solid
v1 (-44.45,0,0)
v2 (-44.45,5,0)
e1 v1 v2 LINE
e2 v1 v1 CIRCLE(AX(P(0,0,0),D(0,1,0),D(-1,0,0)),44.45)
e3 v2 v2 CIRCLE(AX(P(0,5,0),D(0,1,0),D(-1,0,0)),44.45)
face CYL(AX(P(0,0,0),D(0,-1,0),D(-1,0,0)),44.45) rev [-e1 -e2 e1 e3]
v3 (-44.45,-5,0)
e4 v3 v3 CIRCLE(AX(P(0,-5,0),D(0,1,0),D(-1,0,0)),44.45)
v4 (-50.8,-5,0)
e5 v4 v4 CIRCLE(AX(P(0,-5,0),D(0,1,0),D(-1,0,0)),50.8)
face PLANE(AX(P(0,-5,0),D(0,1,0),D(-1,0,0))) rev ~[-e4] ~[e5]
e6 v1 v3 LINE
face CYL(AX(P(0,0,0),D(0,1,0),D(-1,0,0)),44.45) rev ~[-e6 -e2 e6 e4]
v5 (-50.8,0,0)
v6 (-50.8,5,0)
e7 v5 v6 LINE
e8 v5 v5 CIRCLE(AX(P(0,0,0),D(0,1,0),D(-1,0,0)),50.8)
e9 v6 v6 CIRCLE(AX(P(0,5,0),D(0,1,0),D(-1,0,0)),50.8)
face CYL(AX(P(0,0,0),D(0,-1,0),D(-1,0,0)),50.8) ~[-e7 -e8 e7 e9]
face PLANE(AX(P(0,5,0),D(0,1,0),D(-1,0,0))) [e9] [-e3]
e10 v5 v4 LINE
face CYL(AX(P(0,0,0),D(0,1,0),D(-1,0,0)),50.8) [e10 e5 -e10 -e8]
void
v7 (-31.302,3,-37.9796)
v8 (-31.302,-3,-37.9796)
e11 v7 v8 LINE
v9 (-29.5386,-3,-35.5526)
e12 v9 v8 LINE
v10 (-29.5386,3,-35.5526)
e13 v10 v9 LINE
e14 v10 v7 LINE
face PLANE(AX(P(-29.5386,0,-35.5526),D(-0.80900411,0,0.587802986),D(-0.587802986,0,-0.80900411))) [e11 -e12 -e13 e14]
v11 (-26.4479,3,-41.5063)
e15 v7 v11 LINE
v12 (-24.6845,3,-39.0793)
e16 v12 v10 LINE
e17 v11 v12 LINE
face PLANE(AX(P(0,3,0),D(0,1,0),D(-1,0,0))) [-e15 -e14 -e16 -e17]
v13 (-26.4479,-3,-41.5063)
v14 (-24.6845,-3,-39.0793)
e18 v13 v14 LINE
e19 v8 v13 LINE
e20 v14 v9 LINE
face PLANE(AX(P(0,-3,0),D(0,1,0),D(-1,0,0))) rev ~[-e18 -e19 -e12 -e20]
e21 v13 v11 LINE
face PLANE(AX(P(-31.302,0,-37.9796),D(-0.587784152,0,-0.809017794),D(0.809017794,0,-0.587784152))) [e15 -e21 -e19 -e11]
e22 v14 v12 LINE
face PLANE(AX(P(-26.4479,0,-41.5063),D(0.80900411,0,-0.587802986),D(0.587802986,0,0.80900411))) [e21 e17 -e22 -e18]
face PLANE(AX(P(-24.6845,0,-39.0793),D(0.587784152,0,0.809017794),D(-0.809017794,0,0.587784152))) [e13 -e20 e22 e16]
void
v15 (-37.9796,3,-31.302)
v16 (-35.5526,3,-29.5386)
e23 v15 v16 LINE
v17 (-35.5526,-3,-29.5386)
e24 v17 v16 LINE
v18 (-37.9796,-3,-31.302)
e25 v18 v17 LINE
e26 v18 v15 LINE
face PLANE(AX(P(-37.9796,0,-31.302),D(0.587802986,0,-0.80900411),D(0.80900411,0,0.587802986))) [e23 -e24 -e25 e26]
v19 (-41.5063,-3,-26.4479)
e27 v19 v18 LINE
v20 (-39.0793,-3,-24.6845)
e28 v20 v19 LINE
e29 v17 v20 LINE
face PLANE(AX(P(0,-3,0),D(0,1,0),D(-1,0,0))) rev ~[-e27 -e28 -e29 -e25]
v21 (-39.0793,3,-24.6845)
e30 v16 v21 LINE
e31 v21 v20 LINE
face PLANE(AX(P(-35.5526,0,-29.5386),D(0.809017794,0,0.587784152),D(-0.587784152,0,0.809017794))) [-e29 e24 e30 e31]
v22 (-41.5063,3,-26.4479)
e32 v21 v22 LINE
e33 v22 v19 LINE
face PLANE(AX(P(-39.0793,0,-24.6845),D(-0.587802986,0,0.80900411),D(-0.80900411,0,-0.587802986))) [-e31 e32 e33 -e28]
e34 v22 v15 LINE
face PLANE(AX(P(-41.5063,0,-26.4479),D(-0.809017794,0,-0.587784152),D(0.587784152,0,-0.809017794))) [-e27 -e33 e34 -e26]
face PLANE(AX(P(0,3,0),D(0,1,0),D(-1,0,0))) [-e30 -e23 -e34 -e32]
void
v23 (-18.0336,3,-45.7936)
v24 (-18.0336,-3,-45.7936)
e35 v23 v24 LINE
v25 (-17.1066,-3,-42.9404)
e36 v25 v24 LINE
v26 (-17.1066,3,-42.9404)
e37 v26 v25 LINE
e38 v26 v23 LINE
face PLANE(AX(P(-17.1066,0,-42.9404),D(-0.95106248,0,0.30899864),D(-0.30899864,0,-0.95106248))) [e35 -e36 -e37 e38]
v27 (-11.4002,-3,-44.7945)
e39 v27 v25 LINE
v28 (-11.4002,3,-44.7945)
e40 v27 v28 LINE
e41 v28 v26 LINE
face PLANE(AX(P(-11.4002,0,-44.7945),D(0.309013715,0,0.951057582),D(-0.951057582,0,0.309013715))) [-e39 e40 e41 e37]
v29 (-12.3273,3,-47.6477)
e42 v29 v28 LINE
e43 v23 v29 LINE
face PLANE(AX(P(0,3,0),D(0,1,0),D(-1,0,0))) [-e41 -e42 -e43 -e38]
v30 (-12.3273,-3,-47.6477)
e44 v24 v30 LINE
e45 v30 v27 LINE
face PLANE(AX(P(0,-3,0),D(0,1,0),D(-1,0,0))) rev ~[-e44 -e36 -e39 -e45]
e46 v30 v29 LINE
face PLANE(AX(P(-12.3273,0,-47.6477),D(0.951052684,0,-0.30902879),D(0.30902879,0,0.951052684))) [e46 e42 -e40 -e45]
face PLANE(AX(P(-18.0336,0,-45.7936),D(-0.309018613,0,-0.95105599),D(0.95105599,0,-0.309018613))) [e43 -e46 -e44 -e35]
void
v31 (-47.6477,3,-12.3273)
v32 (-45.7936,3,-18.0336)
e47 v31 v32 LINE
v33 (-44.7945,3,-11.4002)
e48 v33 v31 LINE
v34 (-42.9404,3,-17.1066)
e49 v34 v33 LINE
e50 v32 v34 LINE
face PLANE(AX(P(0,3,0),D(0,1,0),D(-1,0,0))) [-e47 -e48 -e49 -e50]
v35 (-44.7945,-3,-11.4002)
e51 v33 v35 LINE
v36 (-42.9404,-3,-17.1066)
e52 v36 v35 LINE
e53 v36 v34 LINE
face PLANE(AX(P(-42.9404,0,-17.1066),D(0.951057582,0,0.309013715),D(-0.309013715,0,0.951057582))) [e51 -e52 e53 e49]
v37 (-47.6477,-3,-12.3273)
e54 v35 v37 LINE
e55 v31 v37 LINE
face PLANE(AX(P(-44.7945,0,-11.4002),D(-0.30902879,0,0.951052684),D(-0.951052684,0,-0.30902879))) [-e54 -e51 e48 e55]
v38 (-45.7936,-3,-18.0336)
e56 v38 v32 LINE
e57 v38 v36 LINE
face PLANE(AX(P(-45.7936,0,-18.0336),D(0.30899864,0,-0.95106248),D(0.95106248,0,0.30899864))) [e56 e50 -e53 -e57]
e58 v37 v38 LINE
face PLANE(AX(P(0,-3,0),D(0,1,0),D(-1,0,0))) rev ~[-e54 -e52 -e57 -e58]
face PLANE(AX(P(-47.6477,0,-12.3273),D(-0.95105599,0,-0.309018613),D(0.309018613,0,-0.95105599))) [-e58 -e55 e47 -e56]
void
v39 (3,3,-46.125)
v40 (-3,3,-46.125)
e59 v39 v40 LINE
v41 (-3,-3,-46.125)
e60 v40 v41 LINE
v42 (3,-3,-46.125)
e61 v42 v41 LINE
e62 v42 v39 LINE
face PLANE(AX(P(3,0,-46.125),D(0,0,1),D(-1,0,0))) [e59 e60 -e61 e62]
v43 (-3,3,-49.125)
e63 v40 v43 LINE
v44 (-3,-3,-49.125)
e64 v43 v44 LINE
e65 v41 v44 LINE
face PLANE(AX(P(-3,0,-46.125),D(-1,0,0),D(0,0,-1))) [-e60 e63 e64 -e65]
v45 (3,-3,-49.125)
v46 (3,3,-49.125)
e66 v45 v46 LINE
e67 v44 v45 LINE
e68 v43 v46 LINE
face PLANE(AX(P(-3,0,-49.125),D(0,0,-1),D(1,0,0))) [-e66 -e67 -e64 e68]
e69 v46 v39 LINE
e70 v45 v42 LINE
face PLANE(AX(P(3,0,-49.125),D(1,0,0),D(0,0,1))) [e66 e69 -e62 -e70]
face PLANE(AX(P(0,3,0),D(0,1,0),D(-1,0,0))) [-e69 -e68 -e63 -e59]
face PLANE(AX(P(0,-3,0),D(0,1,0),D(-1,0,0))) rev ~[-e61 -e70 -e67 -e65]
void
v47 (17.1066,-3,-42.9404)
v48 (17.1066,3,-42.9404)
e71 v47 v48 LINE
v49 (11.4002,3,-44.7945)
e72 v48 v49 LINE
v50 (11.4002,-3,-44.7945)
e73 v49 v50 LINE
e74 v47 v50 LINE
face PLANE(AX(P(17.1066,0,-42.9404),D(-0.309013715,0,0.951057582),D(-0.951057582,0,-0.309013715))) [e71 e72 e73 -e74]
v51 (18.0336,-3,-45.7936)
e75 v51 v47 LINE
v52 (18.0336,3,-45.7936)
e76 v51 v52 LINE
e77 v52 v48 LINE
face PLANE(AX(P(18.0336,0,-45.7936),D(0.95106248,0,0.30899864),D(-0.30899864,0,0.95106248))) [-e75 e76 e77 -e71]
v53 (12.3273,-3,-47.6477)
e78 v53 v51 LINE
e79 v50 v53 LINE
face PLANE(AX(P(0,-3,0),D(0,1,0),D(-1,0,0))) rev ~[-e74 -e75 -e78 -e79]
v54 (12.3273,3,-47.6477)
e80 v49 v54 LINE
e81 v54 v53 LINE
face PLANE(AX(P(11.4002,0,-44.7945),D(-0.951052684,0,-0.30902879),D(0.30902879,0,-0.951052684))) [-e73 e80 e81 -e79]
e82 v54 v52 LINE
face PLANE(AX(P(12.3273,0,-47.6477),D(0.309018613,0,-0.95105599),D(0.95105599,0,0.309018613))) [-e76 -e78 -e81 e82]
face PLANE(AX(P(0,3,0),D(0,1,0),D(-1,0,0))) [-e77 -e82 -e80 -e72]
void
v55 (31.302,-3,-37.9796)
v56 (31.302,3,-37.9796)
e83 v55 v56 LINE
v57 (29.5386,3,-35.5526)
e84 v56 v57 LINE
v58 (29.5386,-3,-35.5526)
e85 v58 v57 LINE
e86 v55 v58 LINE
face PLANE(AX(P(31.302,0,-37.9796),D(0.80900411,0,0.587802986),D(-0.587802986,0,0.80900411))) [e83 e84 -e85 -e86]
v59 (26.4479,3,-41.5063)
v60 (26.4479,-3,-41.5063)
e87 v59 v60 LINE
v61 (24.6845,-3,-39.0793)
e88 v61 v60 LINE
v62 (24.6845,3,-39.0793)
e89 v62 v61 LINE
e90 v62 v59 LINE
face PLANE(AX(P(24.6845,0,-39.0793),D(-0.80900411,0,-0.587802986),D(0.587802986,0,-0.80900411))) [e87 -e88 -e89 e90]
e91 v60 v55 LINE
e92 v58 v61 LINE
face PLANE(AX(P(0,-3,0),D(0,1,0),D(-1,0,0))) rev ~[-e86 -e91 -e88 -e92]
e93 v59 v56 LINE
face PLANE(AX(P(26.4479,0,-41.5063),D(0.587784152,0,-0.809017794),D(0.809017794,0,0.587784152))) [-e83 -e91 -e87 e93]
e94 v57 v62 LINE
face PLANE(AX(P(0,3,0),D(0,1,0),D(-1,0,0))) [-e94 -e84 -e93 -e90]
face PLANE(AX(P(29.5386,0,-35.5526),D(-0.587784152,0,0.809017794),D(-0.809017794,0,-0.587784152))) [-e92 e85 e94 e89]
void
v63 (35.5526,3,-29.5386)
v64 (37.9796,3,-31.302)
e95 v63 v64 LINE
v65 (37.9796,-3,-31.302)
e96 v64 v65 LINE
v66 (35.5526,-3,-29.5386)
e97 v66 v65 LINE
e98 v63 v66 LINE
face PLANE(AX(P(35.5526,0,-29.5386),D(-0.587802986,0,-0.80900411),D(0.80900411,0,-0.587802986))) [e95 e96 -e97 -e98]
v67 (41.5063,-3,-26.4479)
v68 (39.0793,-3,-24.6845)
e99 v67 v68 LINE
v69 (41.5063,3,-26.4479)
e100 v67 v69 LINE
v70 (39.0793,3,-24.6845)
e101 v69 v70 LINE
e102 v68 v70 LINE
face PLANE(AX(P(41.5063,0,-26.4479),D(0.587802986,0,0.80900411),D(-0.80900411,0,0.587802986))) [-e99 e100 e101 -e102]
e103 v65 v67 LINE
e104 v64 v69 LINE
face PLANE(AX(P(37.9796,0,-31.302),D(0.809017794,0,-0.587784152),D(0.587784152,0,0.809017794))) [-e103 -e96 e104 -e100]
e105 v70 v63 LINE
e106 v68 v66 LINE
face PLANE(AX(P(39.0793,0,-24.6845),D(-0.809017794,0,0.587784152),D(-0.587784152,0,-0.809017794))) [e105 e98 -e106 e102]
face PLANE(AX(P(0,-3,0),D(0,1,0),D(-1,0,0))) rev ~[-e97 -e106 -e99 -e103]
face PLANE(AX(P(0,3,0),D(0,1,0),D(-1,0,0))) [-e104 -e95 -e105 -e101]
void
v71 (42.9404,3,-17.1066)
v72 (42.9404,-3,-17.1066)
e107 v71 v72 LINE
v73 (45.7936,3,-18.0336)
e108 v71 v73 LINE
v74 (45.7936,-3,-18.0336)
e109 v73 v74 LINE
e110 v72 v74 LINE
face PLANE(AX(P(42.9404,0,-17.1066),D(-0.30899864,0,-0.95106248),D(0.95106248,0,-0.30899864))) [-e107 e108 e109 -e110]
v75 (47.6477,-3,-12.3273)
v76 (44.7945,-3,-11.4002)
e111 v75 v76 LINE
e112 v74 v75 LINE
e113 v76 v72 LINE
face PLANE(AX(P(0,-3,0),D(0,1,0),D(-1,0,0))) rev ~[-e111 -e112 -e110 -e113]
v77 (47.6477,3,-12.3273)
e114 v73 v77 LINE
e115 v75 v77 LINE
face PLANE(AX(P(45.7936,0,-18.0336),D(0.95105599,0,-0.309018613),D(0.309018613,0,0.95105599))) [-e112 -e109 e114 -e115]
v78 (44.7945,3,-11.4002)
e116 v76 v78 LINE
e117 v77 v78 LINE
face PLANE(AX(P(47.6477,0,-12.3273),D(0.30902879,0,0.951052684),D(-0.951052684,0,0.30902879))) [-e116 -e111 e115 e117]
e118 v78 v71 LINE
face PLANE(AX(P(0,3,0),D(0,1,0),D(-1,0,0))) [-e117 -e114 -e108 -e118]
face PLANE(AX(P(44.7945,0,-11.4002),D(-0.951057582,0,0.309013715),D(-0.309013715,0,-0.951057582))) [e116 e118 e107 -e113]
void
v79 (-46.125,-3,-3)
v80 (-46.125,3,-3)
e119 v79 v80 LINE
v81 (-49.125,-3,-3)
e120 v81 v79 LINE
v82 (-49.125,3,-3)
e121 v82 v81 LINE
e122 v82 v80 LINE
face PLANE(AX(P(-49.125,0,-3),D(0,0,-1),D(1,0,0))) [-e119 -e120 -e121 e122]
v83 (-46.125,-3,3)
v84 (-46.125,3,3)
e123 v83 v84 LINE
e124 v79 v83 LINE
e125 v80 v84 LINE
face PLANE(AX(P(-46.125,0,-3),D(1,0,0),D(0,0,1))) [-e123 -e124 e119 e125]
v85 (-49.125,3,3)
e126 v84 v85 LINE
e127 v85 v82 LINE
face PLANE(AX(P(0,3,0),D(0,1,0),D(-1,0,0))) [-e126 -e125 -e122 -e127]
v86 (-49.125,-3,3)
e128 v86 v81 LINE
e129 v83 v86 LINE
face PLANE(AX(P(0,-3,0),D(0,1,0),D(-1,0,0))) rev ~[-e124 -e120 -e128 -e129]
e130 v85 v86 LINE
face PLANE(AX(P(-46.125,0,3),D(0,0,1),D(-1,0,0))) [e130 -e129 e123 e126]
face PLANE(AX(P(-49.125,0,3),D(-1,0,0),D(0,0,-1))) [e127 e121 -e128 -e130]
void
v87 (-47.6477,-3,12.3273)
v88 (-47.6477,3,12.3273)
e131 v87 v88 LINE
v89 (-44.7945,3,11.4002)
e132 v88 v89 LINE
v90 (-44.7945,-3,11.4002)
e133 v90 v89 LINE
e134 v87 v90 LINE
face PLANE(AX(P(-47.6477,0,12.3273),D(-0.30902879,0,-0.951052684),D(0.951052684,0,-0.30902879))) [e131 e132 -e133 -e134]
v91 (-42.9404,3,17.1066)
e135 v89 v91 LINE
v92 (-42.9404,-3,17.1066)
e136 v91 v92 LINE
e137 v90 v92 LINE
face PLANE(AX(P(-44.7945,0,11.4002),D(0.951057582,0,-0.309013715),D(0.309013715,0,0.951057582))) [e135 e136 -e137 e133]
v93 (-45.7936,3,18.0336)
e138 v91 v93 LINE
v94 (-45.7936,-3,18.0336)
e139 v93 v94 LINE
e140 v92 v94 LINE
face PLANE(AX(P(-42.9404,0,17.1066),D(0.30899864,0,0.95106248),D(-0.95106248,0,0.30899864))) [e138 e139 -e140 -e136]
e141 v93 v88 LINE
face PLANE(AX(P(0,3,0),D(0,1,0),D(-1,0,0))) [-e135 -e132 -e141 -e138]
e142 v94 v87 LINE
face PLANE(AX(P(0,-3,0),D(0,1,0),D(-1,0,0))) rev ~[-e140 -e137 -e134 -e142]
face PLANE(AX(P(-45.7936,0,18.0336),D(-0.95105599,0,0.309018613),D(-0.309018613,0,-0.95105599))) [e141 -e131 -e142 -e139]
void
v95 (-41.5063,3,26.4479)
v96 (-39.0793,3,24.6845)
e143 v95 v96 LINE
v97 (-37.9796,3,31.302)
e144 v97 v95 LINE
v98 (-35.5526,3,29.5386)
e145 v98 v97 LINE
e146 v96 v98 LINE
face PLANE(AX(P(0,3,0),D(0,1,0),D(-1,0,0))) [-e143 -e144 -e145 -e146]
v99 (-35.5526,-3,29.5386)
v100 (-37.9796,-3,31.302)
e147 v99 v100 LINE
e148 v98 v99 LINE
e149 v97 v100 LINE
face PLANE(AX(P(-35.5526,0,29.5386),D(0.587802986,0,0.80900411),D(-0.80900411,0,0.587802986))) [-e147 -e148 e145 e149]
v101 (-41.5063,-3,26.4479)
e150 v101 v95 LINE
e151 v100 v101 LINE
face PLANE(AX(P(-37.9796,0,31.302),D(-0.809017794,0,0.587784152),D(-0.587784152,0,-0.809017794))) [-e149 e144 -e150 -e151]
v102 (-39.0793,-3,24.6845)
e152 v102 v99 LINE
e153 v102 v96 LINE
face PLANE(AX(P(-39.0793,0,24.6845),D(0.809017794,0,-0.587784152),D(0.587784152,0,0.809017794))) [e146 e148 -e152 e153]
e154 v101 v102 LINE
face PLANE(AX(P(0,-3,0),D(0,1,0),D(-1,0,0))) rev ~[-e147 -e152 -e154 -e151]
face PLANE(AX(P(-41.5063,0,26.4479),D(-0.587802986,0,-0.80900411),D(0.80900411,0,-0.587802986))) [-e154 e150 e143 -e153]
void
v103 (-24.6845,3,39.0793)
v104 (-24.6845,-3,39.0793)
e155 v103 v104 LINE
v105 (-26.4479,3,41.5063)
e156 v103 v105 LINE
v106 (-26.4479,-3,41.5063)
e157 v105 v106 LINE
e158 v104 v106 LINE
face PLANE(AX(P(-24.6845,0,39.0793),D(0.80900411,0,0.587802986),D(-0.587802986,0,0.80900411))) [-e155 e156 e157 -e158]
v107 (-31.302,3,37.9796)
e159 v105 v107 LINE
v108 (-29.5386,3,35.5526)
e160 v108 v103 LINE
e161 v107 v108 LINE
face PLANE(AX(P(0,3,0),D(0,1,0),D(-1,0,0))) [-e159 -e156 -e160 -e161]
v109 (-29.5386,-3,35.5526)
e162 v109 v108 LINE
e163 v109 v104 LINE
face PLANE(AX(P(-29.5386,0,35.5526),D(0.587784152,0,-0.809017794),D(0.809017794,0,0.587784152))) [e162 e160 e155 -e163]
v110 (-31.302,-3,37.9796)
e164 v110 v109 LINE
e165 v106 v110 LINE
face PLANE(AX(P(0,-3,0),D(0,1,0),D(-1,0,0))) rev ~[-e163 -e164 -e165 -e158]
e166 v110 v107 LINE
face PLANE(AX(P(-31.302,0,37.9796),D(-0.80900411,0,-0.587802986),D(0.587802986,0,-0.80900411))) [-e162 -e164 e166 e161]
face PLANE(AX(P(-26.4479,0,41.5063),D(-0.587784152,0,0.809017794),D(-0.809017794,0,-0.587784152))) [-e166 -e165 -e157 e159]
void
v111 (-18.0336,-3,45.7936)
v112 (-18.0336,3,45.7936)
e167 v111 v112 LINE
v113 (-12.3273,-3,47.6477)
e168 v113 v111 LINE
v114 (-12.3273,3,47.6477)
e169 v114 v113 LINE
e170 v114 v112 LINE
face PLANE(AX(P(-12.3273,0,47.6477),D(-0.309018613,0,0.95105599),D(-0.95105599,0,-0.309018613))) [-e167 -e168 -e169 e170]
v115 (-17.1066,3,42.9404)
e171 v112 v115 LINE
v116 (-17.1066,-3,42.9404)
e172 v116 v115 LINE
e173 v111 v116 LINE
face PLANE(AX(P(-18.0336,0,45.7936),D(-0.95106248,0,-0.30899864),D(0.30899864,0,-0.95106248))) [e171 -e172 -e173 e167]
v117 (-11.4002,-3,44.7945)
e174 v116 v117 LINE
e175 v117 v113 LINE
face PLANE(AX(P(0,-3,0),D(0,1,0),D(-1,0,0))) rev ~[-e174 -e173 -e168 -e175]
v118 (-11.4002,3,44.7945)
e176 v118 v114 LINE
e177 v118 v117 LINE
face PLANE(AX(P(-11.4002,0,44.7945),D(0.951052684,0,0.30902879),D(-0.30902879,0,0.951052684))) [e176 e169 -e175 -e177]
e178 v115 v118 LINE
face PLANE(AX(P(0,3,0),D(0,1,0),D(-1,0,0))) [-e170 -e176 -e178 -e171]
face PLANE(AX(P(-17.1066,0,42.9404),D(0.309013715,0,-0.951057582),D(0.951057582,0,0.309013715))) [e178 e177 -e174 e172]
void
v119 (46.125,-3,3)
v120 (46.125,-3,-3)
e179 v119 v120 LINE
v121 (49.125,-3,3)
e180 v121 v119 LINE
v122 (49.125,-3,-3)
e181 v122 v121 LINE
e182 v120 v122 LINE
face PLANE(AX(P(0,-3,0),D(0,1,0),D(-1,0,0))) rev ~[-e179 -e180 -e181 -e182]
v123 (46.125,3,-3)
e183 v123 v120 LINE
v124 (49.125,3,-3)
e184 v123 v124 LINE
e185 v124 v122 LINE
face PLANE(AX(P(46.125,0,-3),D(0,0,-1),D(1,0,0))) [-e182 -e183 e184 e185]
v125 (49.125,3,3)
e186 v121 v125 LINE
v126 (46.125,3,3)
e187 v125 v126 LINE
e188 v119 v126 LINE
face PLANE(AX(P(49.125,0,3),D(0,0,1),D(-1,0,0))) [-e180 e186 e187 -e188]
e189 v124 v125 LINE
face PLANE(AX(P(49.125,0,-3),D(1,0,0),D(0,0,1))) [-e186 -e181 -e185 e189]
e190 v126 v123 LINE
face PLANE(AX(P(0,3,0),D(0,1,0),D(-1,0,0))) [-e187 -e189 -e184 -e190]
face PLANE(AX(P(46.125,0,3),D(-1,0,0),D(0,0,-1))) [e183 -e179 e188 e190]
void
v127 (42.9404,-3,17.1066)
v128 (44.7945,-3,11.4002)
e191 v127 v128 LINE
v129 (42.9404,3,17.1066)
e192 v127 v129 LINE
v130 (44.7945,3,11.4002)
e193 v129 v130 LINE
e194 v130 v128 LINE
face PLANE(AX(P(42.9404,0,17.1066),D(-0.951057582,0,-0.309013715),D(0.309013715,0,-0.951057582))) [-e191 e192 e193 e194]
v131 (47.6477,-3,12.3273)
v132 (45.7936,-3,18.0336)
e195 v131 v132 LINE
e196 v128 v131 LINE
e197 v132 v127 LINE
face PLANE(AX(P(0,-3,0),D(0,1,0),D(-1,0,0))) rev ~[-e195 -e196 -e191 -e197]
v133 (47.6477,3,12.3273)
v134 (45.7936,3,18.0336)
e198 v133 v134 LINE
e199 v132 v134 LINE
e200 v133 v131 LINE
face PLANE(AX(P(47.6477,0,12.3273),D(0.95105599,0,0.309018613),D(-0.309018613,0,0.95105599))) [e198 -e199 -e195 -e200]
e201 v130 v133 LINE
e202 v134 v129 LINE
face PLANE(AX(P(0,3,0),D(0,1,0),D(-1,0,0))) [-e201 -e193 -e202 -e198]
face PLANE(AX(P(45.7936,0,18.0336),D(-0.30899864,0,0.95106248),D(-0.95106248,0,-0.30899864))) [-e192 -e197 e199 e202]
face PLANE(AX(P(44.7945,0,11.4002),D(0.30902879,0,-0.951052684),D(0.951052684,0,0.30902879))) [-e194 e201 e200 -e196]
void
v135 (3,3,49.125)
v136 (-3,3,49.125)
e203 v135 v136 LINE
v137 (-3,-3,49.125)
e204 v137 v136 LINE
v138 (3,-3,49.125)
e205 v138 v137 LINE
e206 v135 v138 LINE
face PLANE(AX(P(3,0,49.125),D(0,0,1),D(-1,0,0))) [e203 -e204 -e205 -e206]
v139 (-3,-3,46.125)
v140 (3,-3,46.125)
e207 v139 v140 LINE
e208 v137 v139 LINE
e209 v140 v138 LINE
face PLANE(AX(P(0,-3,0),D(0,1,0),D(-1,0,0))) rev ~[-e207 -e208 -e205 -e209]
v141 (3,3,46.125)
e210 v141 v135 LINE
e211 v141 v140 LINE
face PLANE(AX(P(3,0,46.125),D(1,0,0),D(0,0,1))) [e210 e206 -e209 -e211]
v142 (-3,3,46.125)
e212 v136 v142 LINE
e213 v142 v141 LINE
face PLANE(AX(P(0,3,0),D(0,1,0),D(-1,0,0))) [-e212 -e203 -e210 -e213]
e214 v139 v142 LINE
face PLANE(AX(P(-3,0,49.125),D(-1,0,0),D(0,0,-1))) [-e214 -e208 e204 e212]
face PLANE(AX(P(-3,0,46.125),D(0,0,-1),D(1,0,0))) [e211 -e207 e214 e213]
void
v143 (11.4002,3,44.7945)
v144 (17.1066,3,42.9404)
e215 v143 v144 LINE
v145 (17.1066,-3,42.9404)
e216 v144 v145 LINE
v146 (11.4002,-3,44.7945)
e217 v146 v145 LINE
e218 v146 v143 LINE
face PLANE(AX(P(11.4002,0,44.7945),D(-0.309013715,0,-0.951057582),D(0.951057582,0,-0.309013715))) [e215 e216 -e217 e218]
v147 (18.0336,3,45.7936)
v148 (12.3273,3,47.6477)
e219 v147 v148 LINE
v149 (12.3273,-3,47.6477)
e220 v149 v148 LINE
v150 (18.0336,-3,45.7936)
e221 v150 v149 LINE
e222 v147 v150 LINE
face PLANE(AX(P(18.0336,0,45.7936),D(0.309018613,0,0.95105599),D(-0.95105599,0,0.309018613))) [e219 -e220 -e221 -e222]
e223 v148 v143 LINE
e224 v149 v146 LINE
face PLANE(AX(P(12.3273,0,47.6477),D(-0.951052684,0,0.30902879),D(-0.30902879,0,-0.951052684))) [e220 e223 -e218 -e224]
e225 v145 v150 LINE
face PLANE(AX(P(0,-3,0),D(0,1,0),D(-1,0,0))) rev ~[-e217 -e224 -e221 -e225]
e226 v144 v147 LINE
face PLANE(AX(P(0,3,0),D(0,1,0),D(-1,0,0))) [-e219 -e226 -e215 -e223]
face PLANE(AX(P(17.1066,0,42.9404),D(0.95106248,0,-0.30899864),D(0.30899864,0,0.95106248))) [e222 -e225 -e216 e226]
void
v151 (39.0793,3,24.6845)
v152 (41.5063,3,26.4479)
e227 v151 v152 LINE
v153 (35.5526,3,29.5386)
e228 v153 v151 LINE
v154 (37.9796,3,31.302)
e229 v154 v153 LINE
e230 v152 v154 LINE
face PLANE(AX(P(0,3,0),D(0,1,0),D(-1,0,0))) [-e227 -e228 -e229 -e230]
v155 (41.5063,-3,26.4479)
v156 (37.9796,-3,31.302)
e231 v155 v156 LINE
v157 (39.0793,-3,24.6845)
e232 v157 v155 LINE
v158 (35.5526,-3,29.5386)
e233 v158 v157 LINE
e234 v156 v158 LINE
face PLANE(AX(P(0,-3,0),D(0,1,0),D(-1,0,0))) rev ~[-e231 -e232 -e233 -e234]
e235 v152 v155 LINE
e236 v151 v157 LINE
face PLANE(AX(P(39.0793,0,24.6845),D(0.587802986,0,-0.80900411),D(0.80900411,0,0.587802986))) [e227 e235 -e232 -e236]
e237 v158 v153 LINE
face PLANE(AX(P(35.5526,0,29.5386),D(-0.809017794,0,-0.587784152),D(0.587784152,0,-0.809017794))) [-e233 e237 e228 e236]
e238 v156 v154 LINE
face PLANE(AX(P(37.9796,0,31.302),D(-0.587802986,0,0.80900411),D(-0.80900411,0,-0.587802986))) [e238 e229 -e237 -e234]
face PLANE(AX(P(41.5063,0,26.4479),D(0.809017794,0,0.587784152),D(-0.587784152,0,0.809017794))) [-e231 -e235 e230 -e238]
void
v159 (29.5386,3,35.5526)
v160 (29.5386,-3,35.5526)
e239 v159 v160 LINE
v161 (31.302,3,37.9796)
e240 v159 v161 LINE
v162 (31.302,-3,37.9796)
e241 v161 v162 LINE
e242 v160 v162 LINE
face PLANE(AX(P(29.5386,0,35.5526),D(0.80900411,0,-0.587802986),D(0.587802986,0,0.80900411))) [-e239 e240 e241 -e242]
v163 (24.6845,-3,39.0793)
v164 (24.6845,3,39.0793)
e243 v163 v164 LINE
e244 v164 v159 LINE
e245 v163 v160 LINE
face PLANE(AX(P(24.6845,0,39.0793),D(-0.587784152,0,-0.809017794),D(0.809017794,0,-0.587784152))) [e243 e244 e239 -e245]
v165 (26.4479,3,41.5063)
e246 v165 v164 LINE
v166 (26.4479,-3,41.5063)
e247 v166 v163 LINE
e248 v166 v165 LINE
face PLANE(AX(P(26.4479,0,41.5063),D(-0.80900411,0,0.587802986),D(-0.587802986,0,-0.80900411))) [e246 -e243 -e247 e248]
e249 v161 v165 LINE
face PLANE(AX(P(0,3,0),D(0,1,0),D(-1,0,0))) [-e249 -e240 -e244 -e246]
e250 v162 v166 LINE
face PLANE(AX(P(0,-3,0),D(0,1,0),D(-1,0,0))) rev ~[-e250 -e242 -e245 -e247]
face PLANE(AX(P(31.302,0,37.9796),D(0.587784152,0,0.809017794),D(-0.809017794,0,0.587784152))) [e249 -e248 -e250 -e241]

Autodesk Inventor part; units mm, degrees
ref_plane "YZ Plane" through (0, 0, 0) normal (1, 0, 0) x (0, 1, 0)
ref_plane "XZ Plane" through (0, 0, 0) normal (0, 1, 0) x (-1, 0, 0)
ref_plane "XY Plane" through (0, 0, 0) normal (0, 0, 1) x (1, 0, 0)
sketch "Sketch1" plane through (0, 0, 0) normal (0, 1, 0) x (-1, 0, 0)
  circle A0 centre (0, 0) radius 50.8
  circle A1 centre (0, 0) radius 44.45
  dimension "d0" = 88.9
  dimension "d1" = 101.6
extrude "Extrusion1" add sketch "Sketch1" along normal mid plane 10
sketch "Sketch2" plane through (0, 0, 0) normal (0, 1, 0) x (-1, 0, 0)
  circle A0 centre (0, 0) radius 50.8 construction
  line L0 (50.8, 0) -> (44.45, 0) construction
  circle A1 centre (0, 0) radius 44.45 construction
  line L1 (46.125, 3) -> (49.125, 3)
  line L2 (49.125, 3) -> (49.125, -3)
  line L3 (49.125, -3) -> (46.125, -3)
  line L4 (46.125, -3) -> (46.125, 3)
  line L5 (46.125, 3) -> (49.125, -3) construction
  line L6 (49.125, 3) -> (46.125, -3) construction
  line L7 (42.9404, -17.1066) -> (44.7945, -11.4002)
  line L8 (45.7936, -18.0336) -> (42.9404, -17.1066)
  line L9 (47.6477, -12.3273) -> (45.7936, -18.0336)
  line L10 (44.7945, -11.4002) -> (47.6477, -12.3273)
  line L11 (35.5526, -29.5386) -> (39.0793, -24.6845)
  line L12 (37.9796, -31.302) -> (35.5526, -29.5386)
  line L13 (41.5063, -26.4479) -> (37.9796, -31.302)
  line L14 (39.0793, -24.6845) -> (41.5063, -26.4479)
  line L15 (24.6845, -39.0793) -> (29.5386, -35.5526)
  line L16 (26.4479, -41.5063) -> (24.6845, -39.0793)
  line L17 (31.302, -37.9796) -> (26.4479, -41.5063)
  line L18 (29.5386, -35.5526) -> (31.302, -37.9796)
  line L19 (11.4002, -44.7945) -> (17.1066, -42.9404)
  line L20 (12.3273, -47.6477) -> (11.4002, -44.7945)
  line L21 (18.0336, -45.7936) -> (12.3273, -47.6477)
  line L22 (17.1066, -42.9404) -> (18.0336, -45.7936)
  line L23 (-3, -46.125) -> (3, -46.125)
  line L24 (-3, -49.125) -> (-3, -46.125)
  line L25 (3, -49.125) -> (-3, -49.125)
  line L26 (3, -46.125) -> (3, -49.125)
  line L27 (-17.1066, -42.9404) -> (-11.4002, -44.7945)
  line L28 (-18.0336, -45.7936) -> (-17.1066, -42.9404)
  line L29 (-12.3273, -47.6477) -> (-18.0336, -45.7936)
  line L30 (-11.4002, -44.7945) -> (-12.3273, -47.6477)
  line L31 (-29.5386, -35.5526) -> (-24.6845, -39.0793)
  line L32 (-31.302, -37.9796) -> (-29.5386, -35.5526)
  line L33 (-26.4479, -41.5063) -> (-31.302, -37.9796)
  line L34 (-24.6845, -39.0793) -> (-26.4479, -41.5063)
  line L35 (-39.0793, -24.6845) -> (-35.5526, -29.5386)
  line L36 (-41.5063, -26.4479) -> (-39.0793, -24.6845)
  line L37 (-37.9796, -31.302) -> (-41.5063, -26.4479)
  line L38 (-35.5526, -29.5386) -> (-37.9796, -31.302)
  line L39 (-44.7945, -11.4002) -> (-42.9404, -17.1066)
  line L40 (-47.6477, -12.3273) -> (-44.7945, -11.4002)
  line L41 (-45.7936, -18.0336) -> (-47.6477, -12.3273)
  line L42 (-42.9404, -17.1066) -> (-45.7936, -18.0336)
  line L43 (-46.125, 3) -> (-46.125, -3)
  line L44 (-49.125, 3) -> (-46.125, 3)
  line L45 (-49.125, -3) -> (-49.125, 3)
  line L46 (-46.125, -3) -> (-49.125, -3)
  line L47 (-42.9404, 17.1066) -> (-44.7945, 11.4002)
  line L48 (-45.7936, 18.0336) -> (-42.9404, 17.1066)
  line L49 (-47.6477, 12.3273) -> (-45.7936, 18.0336)
  line L50 (-44.7945, 11.4002) -> (-47.6477, 12.3273)
  line L51 (-35.5526, 29.5386) -> (-39.0793, 24.6845)
  line L52 (-37.9796, 31.302) -> (-35.5526, 29.5386)
  line L53 (-41.5063, 26.4479) -> (-37.9796, 31.302)
  line L54 (-39.0793, 24.6845) -> (-41.5063, 26.4479)
  line L55 (-24.6845, 39.0793) -> (-29.5386, 35.5526)
  line L56 (-26.4479, 41.5063) -> (-24.6845, 39.0793)
  line L57 (-31.302, 37.9796) -> (-26.4479, 41.5063)
  line L58 (-29.5386, 35.5526) -> (-31.302, 37.9796)
  line L59 (-11.4002, 44.7945) -> (-17.1066, 42.9404)
  line L60 (-12.3273, 47.6477) -> (-11.4002, 44.7945)
  line L61 (-18.0336, 45.7936) -> (-12.3273, 47.6477)
  line L62 (-17.1066, 42.9404) -> (-18.0336, 45.7936)
  line L63 (3, 46.125) -> (-3, 46.125)
  line L64 (3, 49.125) -> (3, 46.125)
  line L65 (-3, 49.125) -> (3, 49.125)
  line L66 (-3, 46.125) -> (-3, 49.125)
  line L67 (17.1066, 42.9404) -> (11.4002, 44.7945)
  line L68 (18.0336, 45.7936) -> (17.1066, 42.9404)
  line L69 (12.3273, 47.6477) -> (18.0336, 45.7936)
  line L70 (11.4002, 44.7945) -> (12.3273, 47.6477)
  line L71 (29.5386, 35.5526) -> (24.6845, 39.0793)
  line L72 (31.302, 37.9796) -> (29.5386, 35.5526)
  line L73 (26.4479, 41.5063) -> (31.302, 37.9796)
  line L74 (24.6845, 39.0793) -> (26.4479, 41.5063)
  line L75 (39.0793, 24.6845) -> (35.5526, 29.5386)
  line L76 (41.5063, 26.4479) -> (39.0793, 24.6845)
  line L77 (37.9796, 31.302) -> (41.5063, 26.4479)
  line L78 (35.5526, 29.5386) -> (37.9796, 31.302)
  line L79 (44.7945, 11.4002) -> (42.9404, 17.1066)
  line L80 (47.6477, 12.3273) -> (44.7945, 11.4002)
  line L81 (45.7936, 18.0336) -> (47.6477, 12.3273)
  line L82 (42.9404, 17.1066) -> (45.7936, 18.0336)
  point P0 (47.625, 0)
  dimension "d4" = 3
  dimension "d5" = 6
  dimension "d8" = 360
extrude "Extrusion2" cut sketch "Sketch2" along normal mid plane 6
properties part number "ring_ABS"
